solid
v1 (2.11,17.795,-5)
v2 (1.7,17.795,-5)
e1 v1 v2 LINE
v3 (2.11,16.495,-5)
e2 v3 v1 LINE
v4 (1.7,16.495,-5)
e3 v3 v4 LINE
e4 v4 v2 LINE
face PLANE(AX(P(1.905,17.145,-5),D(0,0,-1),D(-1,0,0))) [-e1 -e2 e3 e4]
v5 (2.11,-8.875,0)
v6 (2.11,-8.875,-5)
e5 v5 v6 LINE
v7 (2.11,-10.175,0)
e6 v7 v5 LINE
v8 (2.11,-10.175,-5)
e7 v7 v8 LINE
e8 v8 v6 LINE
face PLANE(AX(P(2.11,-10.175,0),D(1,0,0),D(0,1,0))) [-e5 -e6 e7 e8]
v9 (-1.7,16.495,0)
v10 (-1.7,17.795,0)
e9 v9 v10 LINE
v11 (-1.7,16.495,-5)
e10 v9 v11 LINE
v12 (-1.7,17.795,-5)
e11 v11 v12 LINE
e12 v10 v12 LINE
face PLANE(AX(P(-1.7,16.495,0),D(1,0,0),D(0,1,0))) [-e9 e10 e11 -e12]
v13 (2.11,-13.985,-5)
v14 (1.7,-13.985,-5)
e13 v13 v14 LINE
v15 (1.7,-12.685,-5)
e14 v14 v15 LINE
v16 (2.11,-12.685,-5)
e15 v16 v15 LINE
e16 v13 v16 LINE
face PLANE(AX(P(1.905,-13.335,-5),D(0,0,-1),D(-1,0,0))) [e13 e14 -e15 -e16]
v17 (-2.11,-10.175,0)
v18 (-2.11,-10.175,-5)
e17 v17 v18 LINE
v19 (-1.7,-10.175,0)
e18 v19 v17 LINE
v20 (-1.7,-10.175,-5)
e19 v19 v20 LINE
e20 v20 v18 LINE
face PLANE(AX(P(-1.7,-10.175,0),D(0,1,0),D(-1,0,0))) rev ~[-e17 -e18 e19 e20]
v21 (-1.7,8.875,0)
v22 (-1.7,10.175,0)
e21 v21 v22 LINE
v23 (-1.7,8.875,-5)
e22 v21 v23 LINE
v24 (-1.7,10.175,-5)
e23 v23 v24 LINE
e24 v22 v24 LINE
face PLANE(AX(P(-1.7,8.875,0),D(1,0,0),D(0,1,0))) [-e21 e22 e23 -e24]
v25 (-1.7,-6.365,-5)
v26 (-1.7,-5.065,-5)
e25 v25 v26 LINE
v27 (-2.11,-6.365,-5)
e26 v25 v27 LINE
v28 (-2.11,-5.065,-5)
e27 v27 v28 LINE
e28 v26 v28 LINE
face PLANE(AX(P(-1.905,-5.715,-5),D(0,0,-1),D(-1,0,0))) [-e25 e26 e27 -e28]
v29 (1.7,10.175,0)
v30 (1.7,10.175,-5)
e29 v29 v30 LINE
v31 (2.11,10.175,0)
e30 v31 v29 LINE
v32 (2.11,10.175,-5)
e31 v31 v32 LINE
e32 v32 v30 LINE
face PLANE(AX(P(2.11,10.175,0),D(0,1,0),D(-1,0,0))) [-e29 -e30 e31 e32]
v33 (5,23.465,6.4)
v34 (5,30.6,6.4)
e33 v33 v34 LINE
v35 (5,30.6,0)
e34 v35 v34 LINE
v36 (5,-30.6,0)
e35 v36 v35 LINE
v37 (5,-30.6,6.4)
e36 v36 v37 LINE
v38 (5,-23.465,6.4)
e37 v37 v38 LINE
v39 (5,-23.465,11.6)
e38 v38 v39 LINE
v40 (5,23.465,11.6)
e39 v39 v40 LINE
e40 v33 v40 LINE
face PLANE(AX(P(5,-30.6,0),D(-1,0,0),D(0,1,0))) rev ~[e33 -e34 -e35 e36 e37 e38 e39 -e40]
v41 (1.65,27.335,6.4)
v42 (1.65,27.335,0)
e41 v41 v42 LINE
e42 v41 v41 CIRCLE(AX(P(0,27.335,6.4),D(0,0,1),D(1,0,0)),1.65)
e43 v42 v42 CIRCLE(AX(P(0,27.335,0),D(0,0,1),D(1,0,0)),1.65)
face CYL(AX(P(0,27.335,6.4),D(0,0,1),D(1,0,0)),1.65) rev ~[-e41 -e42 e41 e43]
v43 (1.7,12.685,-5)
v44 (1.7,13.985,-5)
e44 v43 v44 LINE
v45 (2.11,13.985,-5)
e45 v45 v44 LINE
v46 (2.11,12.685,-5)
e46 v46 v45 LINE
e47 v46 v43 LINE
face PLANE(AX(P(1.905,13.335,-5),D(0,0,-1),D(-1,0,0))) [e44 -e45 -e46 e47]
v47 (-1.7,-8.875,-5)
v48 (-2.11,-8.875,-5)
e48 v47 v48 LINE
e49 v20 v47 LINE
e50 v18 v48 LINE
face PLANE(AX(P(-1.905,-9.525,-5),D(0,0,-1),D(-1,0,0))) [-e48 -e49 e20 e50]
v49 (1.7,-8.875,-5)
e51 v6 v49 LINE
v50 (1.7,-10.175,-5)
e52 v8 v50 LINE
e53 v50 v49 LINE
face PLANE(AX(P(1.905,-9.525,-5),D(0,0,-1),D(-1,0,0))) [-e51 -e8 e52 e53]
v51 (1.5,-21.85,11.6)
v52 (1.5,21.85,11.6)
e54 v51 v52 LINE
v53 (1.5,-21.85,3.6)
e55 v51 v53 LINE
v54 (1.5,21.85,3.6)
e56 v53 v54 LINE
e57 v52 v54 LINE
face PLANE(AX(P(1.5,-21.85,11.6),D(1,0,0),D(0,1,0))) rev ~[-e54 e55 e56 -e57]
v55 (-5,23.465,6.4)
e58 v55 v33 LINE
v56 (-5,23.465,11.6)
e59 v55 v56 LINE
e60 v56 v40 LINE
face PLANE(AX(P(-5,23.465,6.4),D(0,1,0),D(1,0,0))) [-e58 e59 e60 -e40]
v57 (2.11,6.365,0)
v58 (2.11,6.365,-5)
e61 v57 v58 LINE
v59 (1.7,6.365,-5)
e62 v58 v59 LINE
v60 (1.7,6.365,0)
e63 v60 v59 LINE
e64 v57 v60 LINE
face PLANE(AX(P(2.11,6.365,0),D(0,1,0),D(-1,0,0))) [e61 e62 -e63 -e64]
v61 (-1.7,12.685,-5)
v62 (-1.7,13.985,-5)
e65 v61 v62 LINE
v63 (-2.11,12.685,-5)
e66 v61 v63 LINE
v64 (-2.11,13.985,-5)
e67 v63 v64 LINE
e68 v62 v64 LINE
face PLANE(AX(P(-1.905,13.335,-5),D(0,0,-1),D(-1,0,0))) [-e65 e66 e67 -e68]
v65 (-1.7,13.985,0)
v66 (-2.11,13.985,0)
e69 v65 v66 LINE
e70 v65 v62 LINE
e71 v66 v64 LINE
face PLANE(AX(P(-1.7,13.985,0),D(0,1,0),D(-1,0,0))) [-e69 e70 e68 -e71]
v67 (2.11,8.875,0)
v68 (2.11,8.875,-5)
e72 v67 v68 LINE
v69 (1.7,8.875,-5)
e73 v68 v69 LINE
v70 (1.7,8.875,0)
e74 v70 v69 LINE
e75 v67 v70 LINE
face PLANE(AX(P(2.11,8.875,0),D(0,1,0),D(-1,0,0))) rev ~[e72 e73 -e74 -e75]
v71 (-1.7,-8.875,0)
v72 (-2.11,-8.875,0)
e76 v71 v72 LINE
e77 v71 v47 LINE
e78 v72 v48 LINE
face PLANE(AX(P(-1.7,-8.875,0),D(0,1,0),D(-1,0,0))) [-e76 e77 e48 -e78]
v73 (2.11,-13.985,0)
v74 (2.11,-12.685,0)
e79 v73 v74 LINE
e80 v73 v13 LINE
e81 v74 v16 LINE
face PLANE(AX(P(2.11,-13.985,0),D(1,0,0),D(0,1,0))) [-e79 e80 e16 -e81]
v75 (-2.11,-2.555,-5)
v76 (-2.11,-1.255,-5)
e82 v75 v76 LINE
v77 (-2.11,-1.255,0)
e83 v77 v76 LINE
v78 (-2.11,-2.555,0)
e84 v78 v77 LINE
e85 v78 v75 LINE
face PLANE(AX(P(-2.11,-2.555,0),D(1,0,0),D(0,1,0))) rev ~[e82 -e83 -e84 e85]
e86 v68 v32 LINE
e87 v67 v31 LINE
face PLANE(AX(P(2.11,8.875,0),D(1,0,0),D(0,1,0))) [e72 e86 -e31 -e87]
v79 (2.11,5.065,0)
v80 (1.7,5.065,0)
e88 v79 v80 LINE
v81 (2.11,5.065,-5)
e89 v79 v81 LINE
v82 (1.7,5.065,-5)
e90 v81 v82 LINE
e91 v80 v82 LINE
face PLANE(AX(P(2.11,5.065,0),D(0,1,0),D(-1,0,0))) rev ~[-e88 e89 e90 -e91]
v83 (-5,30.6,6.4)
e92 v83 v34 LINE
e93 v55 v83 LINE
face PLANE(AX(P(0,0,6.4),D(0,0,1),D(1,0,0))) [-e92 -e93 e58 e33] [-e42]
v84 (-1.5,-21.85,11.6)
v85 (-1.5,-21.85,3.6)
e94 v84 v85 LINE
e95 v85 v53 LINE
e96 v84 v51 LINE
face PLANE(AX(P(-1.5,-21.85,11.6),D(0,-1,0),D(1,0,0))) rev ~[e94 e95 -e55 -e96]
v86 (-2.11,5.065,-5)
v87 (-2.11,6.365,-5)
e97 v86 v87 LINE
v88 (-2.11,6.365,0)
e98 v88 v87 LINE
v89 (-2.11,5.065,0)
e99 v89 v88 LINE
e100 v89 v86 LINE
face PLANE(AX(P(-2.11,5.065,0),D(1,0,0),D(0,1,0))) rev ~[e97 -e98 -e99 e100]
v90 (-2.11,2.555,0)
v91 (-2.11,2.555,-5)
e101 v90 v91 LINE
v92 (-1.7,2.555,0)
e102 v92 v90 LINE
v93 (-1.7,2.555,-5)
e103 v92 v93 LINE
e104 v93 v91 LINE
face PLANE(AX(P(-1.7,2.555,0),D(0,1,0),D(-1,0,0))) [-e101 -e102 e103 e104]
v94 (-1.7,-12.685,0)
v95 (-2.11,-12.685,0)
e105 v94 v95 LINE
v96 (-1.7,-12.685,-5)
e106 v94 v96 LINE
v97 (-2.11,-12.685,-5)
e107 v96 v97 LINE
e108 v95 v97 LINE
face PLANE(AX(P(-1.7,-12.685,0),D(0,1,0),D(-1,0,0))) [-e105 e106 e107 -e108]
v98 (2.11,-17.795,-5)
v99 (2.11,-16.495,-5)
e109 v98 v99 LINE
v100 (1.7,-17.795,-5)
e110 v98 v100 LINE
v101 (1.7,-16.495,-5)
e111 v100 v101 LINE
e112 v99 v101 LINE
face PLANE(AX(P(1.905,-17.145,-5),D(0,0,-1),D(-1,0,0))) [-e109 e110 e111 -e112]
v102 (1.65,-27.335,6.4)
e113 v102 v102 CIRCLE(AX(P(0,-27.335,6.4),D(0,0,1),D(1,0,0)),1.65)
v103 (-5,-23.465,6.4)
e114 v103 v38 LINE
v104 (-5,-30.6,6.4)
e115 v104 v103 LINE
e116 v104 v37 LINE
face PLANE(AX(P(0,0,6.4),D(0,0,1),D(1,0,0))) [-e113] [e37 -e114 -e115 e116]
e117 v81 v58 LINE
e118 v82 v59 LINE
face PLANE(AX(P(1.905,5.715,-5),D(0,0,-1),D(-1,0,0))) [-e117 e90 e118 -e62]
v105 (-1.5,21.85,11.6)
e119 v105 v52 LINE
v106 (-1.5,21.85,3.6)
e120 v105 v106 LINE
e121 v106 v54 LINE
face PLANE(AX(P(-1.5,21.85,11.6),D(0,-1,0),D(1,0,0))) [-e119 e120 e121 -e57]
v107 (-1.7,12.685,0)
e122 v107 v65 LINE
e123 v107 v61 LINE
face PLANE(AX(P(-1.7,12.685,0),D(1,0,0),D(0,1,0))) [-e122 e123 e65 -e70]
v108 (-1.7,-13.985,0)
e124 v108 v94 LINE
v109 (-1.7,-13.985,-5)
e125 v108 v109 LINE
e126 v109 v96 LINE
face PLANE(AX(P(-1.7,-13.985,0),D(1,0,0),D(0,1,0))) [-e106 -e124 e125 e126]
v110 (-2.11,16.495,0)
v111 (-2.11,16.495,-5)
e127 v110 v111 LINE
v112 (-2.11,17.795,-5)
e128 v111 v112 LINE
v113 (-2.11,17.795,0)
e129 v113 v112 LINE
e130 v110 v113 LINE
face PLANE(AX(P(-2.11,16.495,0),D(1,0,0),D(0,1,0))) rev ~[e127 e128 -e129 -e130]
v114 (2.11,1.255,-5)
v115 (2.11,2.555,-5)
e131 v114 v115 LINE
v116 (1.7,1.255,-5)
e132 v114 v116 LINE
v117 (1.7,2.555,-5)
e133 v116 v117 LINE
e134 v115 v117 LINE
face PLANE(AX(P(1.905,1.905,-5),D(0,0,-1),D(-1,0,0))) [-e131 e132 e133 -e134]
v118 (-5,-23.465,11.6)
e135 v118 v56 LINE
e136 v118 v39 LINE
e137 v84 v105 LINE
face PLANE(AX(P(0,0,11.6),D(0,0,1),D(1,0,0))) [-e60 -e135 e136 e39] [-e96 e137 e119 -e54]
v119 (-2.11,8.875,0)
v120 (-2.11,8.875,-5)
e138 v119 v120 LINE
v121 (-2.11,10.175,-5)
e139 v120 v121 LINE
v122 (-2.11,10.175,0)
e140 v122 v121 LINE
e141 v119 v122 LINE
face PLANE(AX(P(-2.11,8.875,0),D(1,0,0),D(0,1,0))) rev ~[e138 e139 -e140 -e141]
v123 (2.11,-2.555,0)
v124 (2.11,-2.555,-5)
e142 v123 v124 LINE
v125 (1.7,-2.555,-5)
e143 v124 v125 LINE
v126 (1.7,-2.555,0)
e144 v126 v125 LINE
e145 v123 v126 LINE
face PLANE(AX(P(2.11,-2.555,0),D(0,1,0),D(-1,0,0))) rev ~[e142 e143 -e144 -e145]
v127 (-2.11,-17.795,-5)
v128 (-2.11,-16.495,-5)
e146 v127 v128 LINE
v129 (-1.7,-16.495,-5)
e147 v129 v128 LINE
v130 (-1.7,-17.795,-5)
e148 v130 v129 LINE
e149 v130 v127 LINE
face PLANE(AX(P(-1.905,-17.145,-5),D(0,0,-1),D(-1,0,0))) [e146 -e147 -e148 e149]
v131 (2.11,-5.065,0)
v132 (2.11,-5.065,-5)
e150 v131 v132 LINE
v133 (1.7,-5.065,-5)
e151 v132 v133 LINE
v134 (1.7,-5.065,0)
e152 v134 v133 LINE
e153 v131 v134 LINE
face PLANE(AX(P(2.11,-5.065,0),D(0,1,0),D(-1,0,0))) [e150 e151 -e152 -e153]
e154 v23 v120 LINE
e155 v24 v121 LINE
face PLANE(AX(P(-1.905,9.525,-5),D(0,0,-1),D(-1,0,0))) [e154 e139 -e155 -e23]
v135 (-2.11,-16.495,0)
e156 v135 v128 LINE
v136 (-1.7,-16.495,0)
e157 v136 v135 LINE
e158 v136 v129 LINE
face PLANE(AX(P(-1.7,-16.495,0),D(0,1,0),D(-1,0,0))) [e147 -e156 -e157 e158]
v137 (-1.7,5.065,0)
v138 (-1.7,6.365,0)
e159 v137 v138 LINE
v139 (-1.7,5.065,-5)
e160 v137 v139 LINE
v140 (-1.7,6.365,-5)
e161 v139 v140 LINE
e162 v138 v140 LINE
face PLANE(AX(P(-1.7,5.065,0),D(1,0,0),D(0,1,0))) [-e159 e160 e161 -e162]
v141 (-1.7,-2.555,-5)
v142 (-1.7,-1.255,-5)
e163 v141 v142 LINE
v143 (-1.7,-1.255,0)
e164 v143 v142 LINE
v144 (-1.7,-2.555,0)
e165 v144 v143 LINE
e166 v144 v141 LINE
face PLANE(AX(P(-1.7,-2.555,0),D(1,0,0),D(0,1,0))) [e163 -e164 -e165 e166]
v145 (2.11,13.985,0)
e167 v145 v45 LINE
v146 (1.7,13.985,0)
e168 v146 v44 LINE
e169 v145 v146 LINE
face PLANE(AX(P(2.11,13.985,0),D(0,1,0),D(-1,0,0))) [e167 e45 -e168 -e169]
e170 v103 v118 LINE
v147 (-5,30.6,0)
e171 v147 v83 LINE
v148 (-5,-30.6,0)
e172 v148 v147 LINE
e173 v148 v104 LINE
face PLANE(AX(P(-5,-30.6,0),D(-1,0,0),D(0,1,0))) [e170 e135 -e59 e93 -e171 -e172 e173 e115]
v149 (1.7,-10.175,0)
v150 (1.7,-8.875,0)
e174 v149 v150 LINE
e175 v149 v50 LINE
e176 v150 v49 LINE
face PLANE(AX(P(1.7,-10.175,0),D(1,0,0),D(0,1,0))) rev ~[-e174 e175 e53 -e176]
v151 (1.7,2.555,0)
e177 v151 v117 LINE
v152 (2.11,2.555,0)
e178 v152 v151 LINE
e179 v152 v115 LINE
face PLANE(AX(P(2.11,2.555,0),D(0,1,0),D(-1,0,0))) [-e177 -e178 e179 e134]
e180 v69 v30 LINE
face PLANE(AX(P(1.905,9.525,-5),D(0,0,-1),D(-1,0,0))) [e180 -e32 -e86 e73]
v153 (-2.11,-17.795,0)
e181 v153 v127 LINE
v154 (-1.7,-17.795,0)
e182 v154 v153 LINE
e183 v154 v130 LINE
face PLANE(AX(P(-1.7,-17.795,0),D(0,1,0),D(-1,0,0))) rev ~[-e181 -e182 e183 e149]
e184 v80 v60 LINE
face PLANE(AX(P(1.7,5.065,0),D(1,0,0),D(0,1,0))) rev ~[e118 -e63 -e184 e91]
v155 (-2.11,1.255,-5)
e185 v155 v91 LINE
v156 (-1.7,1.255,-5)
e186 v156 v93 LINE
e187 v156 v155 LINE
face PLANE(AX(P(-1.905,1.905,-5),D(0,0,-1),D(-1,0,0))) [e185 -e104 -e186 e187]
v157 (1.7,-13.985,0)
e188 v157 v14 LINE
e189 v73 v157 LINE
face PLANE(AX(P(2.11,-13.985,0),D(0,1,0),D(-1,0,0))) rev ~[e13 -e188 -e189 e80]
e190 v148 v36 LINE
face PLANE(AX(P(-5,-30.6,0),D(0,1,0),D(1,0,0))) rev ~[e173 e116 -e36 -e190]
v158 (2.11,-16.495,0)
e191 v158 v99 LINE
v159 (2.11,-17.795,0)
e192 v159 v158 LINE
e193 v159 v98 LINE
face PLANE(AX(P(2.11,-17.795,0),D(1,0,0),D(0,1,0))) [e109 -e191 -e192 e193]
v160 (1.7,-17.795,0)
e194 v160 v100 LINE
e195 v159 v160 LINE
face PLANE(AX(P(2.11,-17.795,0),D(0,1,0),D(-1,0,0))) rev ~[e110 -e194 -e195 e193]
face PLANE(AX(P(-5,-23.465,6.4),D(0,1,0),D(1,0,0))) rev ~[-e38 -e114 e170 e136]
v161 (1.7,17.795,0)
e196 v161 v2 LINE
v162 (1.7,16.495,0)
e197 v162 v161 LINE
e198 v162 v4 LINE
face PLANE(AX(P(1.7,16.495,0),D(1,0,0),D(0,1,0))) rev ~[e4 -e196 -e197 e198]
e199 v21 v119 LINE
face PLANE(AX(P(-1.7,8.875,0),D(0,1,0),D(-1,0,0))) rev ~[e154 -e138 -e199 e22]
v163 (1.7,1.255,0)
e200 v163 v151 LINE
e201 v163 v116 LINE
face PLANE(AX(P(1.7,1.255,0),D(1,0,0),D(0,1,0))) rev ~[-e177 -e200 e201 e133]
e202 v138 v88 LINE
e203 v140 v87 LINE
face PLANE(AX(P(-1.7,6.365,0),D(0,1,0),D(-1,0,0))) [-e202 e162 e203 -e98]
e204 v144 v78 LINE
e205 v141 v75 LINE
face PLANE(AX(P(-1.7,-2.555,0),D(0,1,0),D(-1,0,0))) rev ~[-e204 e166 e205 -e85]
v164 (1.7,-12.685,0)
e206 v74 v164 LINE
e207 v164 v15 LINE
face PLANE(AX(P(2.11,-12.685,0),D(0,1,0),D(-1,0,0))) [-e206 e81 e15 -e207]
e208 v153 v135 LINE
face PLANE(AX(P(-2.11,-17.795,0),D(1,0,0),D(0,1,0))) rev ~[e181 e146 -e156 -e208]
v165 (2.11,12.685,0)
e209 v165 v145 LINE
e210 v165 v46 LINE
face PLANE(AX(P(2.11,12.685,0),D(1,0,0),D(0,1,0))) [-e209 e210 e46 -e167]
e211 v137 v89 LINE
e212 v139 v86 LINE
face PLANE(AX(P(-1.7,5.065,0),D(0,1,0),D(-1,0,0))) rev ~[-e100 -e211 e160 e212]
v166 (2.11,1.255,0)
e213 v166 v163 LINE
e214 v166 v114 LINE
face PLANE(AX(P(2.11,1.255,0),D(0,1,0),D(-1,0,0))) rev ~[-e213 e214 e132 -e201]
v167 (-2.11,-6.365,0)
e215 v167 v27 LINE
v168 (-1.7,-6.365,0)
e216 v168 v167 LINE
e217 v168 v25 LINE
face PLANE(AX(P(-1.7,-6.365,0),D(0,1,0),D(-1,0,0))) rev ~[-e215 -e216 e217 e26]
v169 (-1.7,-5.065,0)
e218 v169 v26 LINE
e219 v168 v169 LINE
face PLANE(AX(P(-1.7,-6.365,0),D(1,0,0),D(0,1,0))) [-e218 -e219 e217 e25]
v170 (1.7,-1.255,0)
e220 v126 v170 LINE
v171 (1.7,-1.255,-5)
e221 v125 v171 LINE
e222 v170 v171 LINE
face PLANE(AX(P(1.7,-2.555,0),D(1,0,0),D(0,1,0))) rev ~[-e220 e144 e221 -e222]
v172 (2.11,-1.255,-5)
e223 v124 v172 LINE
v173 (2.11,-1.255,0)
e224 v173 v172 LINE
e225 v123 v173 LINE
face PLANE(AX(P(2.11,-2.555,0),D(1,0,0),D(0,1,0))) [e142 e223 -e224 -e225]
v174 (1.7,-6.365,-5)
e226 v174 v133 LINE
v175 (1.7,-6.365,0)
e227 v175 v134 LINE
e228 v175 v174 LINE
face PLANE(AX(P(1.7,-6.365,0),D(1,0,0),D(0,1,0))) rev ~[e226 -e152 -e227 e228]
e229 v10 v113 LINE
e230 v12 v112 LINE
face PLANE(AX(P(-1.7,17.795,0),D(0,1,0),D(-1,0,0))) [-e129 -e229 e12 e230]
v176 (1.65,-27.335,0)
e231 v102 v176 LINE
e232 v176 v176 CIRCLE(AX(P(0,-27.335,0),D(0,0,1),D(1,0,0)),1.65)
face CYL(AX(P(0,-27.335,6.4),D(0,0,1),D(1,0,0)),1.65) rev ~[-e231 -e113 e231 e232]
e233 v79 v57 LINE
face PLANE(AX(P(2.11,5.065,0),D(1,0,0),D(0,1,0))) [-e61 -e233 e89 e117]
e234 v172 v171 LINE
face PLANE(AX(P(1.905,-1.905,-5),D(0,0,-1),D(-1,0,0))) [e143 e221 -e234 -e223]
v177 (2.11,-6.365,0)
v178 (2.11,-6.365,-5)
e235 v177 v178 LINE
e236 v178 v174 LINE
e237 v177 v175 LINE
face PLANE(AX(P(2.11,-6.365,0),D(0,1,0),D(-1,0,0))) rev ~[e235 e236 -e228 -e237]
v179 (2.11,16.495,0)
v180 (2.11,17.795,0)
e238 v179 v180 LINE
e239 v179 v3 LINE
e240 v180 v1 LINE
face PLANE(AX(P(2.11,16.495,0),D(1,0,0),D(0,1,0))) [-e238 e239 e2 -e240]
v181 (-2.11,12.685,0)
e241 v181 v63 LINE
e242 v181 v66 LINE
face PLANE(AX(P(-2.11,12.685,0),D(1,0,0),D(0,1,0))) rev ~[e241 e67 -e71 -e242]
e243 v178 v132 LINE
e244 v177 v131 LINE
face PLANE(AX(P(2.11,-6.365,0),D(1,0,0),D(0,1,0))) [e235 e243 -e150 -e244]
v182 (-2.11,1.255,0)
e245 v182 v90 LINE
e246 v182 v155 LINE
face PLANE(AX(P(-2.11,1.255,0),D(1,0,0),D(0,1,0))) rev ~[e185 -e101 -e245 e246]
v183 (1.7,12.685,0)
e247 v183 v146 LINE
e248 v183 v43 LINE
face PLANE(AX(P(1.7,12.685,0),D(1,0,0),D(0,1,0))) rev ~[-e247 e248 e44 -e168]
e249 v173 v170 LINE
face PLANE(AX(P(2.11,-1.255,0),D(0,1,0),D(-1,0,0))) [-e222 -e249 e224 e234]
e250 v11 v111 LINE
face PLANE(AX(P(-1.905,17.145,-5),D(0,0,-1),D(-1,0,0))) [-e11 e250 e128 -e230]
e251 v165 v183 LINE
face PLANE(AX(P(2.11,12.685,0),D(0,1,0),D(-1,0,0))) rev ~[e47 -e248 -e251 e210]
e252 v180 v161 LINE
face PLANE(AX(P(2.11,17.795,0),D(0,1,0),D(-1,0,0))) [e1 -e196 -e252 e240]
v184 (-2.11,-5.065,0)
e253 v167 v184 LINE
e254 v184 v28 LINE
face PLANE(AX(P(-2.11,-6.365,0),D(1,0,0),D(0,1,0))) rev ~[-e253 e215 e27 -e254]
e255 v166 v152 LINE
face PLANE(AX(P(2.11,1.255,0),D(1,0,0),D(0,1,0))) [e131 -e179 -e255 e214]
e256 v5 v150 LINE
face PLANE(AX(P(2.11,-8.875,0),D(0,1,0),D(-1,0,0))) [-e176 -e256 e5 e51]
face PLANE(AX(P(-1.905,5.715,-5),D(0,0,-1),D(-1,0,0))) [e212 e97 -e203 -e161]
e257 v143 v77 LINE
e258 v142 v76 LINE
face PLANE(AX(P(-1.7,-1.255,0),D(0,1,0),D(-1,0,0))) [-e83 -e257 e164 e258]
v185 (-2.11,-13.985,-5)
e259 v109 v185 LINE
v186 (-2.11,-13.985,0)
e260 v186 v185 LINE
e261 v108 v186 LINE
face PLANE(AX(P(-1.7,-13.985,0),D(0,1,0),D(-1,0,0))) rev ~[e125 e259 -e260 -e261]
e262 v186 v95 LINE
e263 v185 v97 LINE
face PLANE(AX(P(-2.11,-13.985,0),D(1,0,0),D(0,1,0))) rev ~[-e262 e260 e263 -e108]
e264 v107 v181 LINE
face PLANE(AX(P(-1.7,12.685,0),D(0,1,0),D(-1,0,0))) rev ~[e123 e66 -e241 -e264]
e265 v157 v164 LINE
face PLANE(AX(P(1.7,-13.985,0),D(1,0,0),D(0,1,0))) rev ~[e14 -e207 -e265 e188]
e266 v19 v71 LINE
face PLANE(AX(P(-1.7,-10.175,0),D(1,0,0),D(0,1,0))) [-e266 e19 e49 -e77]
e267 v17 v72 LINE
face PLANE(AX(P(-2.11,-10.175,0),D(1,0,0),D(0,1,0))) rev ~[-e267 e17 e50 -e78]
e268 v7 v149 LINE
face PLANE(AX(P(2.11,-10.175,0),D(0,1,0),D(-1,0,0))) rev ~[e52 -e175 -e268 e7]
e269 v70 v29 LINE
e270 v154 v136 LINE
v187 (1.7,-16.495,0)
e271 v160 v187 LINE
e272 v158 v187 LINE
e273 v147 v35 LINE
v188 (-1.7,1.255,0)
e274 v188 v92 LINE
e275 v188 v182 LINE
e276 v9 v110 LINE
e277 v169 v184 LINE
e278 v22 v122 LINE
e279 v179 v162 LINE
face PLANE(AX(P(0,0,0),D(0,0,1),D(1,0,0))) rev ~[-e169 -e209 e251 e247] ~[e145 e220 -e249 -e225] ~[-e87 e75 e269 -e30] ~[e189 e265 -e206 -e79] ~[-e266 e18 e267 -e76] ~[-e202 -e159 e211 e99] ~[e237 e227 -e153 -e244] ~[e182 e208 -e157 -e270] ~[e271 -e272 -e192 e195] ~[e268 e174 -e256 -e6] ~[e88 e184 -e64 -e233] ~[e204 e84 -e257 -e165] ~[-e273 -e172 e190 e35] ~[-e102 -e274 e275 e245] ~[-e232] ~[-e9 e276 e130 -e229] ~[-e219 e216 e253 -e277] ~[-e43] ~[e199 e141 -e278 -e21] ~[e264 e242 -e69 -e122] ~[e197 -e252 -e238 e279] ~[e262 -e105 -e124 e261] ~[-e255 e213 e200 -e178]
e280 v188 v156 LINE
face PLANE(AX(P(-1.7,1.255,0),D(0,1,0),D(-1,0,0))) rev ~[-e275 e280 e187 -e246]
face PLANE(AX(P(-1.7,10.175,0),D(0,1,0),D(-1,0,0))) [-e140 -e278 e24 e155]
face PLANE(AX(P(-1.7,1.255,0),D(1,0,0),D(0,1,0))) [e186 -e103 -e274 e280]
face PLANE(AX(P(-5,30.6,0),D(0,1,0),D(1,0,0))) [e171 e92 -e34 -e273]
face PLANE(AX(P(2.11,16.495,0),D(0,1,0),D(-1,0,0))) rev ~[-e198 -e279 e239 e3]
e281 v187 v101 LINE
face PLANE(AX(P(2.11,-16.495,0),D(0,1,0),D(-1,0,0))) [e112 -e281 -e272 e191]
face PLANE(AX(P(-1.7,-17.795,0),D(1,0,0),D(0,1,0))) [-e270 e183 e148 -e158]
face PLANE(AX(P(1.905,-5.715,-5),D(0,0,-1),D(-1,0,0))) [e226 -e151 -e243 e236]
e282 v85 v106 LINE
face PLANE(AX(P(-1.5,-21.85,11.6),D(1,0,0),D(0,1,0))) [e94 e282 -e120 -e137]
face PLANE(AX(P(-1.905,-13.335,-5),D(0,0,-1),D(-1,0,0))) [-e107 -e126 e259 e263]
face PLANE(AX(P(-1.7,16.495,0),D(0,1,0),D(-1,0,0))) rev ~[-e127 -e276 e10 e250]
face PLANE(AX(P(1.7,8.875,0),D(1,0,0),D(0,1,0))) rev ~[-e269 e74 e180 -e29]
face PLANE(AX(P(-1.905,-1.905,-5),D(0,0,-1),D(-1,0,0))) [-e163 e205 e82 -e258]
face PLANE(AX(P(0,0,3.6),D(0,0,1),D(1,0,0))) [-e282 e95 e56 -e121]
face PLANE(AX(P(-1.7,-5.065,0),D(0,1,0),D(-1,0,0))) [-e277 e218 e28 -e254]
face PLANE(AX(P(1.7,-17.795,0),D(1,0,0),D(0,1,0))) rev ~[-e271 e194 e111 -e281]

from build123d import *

# Parameters (mm, degrees)
SKETCH_1_W          = 10
SKETCH_1_H          = 61.2
EXTRUDE_1_DEPTH     = 6.4
SKETCH_2_W          = 10
SKETCH_2_H          = 46.93
EXTRUDE_2_DEPTH     = 5.2
SKETCH_3_R          = 1.65
CUT_EXTRUDE_1_DEPTH = 15.3
SKETCH_4_W          = 0.41
SKETCH_4_H          = 1.3
EXTRUDE_3_DEPTH     = 5
SKETCH_5_W          = 3
SKETCH_5_H          = 43.7
CUT_EXTRUDE_2_DEPTH = 8


with BuildPart() as part:
    # 草图1 → 拉伸1 (new body)
    with BuildSketch(Plane.XY):
        Rectangle(SKETCH_1_W, SKETCH_1_H)
    extrude(amount=EXTRUDE_1_DEPTH)

    # 草图2 → 拉伸2 (add)
    with BuildSketch(Plane.XY.offset(6.4)):
        Rectangle(SKETCH_2_W, SKETCH_2_H)
    extrude(amount=EXTRUDE_2_DEPTH)

    # 草图3 → 切除-拉伸1 (cut)
    with BuildSketch(Plane.XY.offset(6.4)):
        with Locations((0, 27.335)):
            Circle(SKETCH_3_R)
        with Locations((0, -27.335)):
            Circle(SKETCH_3_R)
    extrude(amount=-CUT_EXTRUDE_1_DEPTH, mode=Mode.SUBTRACT)

    # 草图4 → 拉伸3 (add)
    with BuildSketch(Plane(origin=(0, 0, 0), x_dir=(-1, 0, 0), z_dir=(0, 0, -1))):
        with Locations((-1.905, 1.905)):
            Rectangle(SKETCH_4_W, SKETCH_4_H)
        with Locations((1.905, 1.905)):
            Rectangle(SKETCH_4_W, SKETCH_4_H)
        with Locations((-1.905, 5.715)):
            Rectangle(SKETCH_4_W, SKETCH_4_H)
        with Locations((1.905, 5.715)):
            Rectangle(SKETCH_4_W, SKETCH_4_H)
        with Locations((-1.905, 9.525)):
            Rectangle(SKETCH_4_W, SKETCH_4_H)
        with Locations((1.905, 9.525)):
            Rectangle(SKETCH_4_W, SKETCH_4_H)
        with Locations((-1.905, 13.335)):
            Rectangle(SKETCH_4_W, SKETCH_4_H)
        with Locations((1.905, 13.335)):
            Rectangle(SKETCH_4_W, SKETCH_4_H)
        with Locations((-1.905, 17.145)):
            Rectangle(SKETCH_4_W, SKETCH_4_H)
        with Locations((1.905, 17.145)):
            Rectangle(SKETCH_4_W, SKETCH_4_H)
        with Locations((-1.905, -1.905)):
            Rectangle(SKETCH_4_W, SKETCH_4_H)
        with Locations((1.905, -1.905)):
            Rectangle(SKETCH_4_W, SKETCH_4_H)
        with Locations((-1.905, -5.715)):
            Rectangle(SKETCH_4_W, SKETCH_4_H)
        with Locations((1.905, -5.715)):
            Rectangle(SKETCH_4_W, SKETCH_4_H)
        with Locations((-1.905, -9.525)):
            Rectangle(SKETCH_4_W, SKETCH_4_H)
        with Locations((1.905, -9.525)):
            Rectangle(SKETCH_4_W, SKETCH_4_H)
        with Locations((-1.905, -13.335)):
            Rectangle(SKETCH_4_W, SKETCH_4_H)
        with Locations((1.905, -13.335)):
            Rectangle(SKETCH_4_W, SKETCH_4_H)
        with Locations((-1.905, -17.145)):
            Rectangle(SKETCH_4_W, SKETCH_4_H)
        with Locations((1.905, -17.145)):
            Rectangle(SKETCH_4_W, SKETCH_4_H)
    extrude(amount=EXTRUDE_3_DEPTH)

    # 草图5 → 切除-拉伸2 (cut)
    with BuildSketch(Plane.XY.offset(11.6)):
        Rectangle(SKETCH_5_W, SKETCH_5_H)
    extrude(amount=-CUT_EXTRUDE_2_DEPTH, mode=Mode.SUBTRACT)


solid = part.part
